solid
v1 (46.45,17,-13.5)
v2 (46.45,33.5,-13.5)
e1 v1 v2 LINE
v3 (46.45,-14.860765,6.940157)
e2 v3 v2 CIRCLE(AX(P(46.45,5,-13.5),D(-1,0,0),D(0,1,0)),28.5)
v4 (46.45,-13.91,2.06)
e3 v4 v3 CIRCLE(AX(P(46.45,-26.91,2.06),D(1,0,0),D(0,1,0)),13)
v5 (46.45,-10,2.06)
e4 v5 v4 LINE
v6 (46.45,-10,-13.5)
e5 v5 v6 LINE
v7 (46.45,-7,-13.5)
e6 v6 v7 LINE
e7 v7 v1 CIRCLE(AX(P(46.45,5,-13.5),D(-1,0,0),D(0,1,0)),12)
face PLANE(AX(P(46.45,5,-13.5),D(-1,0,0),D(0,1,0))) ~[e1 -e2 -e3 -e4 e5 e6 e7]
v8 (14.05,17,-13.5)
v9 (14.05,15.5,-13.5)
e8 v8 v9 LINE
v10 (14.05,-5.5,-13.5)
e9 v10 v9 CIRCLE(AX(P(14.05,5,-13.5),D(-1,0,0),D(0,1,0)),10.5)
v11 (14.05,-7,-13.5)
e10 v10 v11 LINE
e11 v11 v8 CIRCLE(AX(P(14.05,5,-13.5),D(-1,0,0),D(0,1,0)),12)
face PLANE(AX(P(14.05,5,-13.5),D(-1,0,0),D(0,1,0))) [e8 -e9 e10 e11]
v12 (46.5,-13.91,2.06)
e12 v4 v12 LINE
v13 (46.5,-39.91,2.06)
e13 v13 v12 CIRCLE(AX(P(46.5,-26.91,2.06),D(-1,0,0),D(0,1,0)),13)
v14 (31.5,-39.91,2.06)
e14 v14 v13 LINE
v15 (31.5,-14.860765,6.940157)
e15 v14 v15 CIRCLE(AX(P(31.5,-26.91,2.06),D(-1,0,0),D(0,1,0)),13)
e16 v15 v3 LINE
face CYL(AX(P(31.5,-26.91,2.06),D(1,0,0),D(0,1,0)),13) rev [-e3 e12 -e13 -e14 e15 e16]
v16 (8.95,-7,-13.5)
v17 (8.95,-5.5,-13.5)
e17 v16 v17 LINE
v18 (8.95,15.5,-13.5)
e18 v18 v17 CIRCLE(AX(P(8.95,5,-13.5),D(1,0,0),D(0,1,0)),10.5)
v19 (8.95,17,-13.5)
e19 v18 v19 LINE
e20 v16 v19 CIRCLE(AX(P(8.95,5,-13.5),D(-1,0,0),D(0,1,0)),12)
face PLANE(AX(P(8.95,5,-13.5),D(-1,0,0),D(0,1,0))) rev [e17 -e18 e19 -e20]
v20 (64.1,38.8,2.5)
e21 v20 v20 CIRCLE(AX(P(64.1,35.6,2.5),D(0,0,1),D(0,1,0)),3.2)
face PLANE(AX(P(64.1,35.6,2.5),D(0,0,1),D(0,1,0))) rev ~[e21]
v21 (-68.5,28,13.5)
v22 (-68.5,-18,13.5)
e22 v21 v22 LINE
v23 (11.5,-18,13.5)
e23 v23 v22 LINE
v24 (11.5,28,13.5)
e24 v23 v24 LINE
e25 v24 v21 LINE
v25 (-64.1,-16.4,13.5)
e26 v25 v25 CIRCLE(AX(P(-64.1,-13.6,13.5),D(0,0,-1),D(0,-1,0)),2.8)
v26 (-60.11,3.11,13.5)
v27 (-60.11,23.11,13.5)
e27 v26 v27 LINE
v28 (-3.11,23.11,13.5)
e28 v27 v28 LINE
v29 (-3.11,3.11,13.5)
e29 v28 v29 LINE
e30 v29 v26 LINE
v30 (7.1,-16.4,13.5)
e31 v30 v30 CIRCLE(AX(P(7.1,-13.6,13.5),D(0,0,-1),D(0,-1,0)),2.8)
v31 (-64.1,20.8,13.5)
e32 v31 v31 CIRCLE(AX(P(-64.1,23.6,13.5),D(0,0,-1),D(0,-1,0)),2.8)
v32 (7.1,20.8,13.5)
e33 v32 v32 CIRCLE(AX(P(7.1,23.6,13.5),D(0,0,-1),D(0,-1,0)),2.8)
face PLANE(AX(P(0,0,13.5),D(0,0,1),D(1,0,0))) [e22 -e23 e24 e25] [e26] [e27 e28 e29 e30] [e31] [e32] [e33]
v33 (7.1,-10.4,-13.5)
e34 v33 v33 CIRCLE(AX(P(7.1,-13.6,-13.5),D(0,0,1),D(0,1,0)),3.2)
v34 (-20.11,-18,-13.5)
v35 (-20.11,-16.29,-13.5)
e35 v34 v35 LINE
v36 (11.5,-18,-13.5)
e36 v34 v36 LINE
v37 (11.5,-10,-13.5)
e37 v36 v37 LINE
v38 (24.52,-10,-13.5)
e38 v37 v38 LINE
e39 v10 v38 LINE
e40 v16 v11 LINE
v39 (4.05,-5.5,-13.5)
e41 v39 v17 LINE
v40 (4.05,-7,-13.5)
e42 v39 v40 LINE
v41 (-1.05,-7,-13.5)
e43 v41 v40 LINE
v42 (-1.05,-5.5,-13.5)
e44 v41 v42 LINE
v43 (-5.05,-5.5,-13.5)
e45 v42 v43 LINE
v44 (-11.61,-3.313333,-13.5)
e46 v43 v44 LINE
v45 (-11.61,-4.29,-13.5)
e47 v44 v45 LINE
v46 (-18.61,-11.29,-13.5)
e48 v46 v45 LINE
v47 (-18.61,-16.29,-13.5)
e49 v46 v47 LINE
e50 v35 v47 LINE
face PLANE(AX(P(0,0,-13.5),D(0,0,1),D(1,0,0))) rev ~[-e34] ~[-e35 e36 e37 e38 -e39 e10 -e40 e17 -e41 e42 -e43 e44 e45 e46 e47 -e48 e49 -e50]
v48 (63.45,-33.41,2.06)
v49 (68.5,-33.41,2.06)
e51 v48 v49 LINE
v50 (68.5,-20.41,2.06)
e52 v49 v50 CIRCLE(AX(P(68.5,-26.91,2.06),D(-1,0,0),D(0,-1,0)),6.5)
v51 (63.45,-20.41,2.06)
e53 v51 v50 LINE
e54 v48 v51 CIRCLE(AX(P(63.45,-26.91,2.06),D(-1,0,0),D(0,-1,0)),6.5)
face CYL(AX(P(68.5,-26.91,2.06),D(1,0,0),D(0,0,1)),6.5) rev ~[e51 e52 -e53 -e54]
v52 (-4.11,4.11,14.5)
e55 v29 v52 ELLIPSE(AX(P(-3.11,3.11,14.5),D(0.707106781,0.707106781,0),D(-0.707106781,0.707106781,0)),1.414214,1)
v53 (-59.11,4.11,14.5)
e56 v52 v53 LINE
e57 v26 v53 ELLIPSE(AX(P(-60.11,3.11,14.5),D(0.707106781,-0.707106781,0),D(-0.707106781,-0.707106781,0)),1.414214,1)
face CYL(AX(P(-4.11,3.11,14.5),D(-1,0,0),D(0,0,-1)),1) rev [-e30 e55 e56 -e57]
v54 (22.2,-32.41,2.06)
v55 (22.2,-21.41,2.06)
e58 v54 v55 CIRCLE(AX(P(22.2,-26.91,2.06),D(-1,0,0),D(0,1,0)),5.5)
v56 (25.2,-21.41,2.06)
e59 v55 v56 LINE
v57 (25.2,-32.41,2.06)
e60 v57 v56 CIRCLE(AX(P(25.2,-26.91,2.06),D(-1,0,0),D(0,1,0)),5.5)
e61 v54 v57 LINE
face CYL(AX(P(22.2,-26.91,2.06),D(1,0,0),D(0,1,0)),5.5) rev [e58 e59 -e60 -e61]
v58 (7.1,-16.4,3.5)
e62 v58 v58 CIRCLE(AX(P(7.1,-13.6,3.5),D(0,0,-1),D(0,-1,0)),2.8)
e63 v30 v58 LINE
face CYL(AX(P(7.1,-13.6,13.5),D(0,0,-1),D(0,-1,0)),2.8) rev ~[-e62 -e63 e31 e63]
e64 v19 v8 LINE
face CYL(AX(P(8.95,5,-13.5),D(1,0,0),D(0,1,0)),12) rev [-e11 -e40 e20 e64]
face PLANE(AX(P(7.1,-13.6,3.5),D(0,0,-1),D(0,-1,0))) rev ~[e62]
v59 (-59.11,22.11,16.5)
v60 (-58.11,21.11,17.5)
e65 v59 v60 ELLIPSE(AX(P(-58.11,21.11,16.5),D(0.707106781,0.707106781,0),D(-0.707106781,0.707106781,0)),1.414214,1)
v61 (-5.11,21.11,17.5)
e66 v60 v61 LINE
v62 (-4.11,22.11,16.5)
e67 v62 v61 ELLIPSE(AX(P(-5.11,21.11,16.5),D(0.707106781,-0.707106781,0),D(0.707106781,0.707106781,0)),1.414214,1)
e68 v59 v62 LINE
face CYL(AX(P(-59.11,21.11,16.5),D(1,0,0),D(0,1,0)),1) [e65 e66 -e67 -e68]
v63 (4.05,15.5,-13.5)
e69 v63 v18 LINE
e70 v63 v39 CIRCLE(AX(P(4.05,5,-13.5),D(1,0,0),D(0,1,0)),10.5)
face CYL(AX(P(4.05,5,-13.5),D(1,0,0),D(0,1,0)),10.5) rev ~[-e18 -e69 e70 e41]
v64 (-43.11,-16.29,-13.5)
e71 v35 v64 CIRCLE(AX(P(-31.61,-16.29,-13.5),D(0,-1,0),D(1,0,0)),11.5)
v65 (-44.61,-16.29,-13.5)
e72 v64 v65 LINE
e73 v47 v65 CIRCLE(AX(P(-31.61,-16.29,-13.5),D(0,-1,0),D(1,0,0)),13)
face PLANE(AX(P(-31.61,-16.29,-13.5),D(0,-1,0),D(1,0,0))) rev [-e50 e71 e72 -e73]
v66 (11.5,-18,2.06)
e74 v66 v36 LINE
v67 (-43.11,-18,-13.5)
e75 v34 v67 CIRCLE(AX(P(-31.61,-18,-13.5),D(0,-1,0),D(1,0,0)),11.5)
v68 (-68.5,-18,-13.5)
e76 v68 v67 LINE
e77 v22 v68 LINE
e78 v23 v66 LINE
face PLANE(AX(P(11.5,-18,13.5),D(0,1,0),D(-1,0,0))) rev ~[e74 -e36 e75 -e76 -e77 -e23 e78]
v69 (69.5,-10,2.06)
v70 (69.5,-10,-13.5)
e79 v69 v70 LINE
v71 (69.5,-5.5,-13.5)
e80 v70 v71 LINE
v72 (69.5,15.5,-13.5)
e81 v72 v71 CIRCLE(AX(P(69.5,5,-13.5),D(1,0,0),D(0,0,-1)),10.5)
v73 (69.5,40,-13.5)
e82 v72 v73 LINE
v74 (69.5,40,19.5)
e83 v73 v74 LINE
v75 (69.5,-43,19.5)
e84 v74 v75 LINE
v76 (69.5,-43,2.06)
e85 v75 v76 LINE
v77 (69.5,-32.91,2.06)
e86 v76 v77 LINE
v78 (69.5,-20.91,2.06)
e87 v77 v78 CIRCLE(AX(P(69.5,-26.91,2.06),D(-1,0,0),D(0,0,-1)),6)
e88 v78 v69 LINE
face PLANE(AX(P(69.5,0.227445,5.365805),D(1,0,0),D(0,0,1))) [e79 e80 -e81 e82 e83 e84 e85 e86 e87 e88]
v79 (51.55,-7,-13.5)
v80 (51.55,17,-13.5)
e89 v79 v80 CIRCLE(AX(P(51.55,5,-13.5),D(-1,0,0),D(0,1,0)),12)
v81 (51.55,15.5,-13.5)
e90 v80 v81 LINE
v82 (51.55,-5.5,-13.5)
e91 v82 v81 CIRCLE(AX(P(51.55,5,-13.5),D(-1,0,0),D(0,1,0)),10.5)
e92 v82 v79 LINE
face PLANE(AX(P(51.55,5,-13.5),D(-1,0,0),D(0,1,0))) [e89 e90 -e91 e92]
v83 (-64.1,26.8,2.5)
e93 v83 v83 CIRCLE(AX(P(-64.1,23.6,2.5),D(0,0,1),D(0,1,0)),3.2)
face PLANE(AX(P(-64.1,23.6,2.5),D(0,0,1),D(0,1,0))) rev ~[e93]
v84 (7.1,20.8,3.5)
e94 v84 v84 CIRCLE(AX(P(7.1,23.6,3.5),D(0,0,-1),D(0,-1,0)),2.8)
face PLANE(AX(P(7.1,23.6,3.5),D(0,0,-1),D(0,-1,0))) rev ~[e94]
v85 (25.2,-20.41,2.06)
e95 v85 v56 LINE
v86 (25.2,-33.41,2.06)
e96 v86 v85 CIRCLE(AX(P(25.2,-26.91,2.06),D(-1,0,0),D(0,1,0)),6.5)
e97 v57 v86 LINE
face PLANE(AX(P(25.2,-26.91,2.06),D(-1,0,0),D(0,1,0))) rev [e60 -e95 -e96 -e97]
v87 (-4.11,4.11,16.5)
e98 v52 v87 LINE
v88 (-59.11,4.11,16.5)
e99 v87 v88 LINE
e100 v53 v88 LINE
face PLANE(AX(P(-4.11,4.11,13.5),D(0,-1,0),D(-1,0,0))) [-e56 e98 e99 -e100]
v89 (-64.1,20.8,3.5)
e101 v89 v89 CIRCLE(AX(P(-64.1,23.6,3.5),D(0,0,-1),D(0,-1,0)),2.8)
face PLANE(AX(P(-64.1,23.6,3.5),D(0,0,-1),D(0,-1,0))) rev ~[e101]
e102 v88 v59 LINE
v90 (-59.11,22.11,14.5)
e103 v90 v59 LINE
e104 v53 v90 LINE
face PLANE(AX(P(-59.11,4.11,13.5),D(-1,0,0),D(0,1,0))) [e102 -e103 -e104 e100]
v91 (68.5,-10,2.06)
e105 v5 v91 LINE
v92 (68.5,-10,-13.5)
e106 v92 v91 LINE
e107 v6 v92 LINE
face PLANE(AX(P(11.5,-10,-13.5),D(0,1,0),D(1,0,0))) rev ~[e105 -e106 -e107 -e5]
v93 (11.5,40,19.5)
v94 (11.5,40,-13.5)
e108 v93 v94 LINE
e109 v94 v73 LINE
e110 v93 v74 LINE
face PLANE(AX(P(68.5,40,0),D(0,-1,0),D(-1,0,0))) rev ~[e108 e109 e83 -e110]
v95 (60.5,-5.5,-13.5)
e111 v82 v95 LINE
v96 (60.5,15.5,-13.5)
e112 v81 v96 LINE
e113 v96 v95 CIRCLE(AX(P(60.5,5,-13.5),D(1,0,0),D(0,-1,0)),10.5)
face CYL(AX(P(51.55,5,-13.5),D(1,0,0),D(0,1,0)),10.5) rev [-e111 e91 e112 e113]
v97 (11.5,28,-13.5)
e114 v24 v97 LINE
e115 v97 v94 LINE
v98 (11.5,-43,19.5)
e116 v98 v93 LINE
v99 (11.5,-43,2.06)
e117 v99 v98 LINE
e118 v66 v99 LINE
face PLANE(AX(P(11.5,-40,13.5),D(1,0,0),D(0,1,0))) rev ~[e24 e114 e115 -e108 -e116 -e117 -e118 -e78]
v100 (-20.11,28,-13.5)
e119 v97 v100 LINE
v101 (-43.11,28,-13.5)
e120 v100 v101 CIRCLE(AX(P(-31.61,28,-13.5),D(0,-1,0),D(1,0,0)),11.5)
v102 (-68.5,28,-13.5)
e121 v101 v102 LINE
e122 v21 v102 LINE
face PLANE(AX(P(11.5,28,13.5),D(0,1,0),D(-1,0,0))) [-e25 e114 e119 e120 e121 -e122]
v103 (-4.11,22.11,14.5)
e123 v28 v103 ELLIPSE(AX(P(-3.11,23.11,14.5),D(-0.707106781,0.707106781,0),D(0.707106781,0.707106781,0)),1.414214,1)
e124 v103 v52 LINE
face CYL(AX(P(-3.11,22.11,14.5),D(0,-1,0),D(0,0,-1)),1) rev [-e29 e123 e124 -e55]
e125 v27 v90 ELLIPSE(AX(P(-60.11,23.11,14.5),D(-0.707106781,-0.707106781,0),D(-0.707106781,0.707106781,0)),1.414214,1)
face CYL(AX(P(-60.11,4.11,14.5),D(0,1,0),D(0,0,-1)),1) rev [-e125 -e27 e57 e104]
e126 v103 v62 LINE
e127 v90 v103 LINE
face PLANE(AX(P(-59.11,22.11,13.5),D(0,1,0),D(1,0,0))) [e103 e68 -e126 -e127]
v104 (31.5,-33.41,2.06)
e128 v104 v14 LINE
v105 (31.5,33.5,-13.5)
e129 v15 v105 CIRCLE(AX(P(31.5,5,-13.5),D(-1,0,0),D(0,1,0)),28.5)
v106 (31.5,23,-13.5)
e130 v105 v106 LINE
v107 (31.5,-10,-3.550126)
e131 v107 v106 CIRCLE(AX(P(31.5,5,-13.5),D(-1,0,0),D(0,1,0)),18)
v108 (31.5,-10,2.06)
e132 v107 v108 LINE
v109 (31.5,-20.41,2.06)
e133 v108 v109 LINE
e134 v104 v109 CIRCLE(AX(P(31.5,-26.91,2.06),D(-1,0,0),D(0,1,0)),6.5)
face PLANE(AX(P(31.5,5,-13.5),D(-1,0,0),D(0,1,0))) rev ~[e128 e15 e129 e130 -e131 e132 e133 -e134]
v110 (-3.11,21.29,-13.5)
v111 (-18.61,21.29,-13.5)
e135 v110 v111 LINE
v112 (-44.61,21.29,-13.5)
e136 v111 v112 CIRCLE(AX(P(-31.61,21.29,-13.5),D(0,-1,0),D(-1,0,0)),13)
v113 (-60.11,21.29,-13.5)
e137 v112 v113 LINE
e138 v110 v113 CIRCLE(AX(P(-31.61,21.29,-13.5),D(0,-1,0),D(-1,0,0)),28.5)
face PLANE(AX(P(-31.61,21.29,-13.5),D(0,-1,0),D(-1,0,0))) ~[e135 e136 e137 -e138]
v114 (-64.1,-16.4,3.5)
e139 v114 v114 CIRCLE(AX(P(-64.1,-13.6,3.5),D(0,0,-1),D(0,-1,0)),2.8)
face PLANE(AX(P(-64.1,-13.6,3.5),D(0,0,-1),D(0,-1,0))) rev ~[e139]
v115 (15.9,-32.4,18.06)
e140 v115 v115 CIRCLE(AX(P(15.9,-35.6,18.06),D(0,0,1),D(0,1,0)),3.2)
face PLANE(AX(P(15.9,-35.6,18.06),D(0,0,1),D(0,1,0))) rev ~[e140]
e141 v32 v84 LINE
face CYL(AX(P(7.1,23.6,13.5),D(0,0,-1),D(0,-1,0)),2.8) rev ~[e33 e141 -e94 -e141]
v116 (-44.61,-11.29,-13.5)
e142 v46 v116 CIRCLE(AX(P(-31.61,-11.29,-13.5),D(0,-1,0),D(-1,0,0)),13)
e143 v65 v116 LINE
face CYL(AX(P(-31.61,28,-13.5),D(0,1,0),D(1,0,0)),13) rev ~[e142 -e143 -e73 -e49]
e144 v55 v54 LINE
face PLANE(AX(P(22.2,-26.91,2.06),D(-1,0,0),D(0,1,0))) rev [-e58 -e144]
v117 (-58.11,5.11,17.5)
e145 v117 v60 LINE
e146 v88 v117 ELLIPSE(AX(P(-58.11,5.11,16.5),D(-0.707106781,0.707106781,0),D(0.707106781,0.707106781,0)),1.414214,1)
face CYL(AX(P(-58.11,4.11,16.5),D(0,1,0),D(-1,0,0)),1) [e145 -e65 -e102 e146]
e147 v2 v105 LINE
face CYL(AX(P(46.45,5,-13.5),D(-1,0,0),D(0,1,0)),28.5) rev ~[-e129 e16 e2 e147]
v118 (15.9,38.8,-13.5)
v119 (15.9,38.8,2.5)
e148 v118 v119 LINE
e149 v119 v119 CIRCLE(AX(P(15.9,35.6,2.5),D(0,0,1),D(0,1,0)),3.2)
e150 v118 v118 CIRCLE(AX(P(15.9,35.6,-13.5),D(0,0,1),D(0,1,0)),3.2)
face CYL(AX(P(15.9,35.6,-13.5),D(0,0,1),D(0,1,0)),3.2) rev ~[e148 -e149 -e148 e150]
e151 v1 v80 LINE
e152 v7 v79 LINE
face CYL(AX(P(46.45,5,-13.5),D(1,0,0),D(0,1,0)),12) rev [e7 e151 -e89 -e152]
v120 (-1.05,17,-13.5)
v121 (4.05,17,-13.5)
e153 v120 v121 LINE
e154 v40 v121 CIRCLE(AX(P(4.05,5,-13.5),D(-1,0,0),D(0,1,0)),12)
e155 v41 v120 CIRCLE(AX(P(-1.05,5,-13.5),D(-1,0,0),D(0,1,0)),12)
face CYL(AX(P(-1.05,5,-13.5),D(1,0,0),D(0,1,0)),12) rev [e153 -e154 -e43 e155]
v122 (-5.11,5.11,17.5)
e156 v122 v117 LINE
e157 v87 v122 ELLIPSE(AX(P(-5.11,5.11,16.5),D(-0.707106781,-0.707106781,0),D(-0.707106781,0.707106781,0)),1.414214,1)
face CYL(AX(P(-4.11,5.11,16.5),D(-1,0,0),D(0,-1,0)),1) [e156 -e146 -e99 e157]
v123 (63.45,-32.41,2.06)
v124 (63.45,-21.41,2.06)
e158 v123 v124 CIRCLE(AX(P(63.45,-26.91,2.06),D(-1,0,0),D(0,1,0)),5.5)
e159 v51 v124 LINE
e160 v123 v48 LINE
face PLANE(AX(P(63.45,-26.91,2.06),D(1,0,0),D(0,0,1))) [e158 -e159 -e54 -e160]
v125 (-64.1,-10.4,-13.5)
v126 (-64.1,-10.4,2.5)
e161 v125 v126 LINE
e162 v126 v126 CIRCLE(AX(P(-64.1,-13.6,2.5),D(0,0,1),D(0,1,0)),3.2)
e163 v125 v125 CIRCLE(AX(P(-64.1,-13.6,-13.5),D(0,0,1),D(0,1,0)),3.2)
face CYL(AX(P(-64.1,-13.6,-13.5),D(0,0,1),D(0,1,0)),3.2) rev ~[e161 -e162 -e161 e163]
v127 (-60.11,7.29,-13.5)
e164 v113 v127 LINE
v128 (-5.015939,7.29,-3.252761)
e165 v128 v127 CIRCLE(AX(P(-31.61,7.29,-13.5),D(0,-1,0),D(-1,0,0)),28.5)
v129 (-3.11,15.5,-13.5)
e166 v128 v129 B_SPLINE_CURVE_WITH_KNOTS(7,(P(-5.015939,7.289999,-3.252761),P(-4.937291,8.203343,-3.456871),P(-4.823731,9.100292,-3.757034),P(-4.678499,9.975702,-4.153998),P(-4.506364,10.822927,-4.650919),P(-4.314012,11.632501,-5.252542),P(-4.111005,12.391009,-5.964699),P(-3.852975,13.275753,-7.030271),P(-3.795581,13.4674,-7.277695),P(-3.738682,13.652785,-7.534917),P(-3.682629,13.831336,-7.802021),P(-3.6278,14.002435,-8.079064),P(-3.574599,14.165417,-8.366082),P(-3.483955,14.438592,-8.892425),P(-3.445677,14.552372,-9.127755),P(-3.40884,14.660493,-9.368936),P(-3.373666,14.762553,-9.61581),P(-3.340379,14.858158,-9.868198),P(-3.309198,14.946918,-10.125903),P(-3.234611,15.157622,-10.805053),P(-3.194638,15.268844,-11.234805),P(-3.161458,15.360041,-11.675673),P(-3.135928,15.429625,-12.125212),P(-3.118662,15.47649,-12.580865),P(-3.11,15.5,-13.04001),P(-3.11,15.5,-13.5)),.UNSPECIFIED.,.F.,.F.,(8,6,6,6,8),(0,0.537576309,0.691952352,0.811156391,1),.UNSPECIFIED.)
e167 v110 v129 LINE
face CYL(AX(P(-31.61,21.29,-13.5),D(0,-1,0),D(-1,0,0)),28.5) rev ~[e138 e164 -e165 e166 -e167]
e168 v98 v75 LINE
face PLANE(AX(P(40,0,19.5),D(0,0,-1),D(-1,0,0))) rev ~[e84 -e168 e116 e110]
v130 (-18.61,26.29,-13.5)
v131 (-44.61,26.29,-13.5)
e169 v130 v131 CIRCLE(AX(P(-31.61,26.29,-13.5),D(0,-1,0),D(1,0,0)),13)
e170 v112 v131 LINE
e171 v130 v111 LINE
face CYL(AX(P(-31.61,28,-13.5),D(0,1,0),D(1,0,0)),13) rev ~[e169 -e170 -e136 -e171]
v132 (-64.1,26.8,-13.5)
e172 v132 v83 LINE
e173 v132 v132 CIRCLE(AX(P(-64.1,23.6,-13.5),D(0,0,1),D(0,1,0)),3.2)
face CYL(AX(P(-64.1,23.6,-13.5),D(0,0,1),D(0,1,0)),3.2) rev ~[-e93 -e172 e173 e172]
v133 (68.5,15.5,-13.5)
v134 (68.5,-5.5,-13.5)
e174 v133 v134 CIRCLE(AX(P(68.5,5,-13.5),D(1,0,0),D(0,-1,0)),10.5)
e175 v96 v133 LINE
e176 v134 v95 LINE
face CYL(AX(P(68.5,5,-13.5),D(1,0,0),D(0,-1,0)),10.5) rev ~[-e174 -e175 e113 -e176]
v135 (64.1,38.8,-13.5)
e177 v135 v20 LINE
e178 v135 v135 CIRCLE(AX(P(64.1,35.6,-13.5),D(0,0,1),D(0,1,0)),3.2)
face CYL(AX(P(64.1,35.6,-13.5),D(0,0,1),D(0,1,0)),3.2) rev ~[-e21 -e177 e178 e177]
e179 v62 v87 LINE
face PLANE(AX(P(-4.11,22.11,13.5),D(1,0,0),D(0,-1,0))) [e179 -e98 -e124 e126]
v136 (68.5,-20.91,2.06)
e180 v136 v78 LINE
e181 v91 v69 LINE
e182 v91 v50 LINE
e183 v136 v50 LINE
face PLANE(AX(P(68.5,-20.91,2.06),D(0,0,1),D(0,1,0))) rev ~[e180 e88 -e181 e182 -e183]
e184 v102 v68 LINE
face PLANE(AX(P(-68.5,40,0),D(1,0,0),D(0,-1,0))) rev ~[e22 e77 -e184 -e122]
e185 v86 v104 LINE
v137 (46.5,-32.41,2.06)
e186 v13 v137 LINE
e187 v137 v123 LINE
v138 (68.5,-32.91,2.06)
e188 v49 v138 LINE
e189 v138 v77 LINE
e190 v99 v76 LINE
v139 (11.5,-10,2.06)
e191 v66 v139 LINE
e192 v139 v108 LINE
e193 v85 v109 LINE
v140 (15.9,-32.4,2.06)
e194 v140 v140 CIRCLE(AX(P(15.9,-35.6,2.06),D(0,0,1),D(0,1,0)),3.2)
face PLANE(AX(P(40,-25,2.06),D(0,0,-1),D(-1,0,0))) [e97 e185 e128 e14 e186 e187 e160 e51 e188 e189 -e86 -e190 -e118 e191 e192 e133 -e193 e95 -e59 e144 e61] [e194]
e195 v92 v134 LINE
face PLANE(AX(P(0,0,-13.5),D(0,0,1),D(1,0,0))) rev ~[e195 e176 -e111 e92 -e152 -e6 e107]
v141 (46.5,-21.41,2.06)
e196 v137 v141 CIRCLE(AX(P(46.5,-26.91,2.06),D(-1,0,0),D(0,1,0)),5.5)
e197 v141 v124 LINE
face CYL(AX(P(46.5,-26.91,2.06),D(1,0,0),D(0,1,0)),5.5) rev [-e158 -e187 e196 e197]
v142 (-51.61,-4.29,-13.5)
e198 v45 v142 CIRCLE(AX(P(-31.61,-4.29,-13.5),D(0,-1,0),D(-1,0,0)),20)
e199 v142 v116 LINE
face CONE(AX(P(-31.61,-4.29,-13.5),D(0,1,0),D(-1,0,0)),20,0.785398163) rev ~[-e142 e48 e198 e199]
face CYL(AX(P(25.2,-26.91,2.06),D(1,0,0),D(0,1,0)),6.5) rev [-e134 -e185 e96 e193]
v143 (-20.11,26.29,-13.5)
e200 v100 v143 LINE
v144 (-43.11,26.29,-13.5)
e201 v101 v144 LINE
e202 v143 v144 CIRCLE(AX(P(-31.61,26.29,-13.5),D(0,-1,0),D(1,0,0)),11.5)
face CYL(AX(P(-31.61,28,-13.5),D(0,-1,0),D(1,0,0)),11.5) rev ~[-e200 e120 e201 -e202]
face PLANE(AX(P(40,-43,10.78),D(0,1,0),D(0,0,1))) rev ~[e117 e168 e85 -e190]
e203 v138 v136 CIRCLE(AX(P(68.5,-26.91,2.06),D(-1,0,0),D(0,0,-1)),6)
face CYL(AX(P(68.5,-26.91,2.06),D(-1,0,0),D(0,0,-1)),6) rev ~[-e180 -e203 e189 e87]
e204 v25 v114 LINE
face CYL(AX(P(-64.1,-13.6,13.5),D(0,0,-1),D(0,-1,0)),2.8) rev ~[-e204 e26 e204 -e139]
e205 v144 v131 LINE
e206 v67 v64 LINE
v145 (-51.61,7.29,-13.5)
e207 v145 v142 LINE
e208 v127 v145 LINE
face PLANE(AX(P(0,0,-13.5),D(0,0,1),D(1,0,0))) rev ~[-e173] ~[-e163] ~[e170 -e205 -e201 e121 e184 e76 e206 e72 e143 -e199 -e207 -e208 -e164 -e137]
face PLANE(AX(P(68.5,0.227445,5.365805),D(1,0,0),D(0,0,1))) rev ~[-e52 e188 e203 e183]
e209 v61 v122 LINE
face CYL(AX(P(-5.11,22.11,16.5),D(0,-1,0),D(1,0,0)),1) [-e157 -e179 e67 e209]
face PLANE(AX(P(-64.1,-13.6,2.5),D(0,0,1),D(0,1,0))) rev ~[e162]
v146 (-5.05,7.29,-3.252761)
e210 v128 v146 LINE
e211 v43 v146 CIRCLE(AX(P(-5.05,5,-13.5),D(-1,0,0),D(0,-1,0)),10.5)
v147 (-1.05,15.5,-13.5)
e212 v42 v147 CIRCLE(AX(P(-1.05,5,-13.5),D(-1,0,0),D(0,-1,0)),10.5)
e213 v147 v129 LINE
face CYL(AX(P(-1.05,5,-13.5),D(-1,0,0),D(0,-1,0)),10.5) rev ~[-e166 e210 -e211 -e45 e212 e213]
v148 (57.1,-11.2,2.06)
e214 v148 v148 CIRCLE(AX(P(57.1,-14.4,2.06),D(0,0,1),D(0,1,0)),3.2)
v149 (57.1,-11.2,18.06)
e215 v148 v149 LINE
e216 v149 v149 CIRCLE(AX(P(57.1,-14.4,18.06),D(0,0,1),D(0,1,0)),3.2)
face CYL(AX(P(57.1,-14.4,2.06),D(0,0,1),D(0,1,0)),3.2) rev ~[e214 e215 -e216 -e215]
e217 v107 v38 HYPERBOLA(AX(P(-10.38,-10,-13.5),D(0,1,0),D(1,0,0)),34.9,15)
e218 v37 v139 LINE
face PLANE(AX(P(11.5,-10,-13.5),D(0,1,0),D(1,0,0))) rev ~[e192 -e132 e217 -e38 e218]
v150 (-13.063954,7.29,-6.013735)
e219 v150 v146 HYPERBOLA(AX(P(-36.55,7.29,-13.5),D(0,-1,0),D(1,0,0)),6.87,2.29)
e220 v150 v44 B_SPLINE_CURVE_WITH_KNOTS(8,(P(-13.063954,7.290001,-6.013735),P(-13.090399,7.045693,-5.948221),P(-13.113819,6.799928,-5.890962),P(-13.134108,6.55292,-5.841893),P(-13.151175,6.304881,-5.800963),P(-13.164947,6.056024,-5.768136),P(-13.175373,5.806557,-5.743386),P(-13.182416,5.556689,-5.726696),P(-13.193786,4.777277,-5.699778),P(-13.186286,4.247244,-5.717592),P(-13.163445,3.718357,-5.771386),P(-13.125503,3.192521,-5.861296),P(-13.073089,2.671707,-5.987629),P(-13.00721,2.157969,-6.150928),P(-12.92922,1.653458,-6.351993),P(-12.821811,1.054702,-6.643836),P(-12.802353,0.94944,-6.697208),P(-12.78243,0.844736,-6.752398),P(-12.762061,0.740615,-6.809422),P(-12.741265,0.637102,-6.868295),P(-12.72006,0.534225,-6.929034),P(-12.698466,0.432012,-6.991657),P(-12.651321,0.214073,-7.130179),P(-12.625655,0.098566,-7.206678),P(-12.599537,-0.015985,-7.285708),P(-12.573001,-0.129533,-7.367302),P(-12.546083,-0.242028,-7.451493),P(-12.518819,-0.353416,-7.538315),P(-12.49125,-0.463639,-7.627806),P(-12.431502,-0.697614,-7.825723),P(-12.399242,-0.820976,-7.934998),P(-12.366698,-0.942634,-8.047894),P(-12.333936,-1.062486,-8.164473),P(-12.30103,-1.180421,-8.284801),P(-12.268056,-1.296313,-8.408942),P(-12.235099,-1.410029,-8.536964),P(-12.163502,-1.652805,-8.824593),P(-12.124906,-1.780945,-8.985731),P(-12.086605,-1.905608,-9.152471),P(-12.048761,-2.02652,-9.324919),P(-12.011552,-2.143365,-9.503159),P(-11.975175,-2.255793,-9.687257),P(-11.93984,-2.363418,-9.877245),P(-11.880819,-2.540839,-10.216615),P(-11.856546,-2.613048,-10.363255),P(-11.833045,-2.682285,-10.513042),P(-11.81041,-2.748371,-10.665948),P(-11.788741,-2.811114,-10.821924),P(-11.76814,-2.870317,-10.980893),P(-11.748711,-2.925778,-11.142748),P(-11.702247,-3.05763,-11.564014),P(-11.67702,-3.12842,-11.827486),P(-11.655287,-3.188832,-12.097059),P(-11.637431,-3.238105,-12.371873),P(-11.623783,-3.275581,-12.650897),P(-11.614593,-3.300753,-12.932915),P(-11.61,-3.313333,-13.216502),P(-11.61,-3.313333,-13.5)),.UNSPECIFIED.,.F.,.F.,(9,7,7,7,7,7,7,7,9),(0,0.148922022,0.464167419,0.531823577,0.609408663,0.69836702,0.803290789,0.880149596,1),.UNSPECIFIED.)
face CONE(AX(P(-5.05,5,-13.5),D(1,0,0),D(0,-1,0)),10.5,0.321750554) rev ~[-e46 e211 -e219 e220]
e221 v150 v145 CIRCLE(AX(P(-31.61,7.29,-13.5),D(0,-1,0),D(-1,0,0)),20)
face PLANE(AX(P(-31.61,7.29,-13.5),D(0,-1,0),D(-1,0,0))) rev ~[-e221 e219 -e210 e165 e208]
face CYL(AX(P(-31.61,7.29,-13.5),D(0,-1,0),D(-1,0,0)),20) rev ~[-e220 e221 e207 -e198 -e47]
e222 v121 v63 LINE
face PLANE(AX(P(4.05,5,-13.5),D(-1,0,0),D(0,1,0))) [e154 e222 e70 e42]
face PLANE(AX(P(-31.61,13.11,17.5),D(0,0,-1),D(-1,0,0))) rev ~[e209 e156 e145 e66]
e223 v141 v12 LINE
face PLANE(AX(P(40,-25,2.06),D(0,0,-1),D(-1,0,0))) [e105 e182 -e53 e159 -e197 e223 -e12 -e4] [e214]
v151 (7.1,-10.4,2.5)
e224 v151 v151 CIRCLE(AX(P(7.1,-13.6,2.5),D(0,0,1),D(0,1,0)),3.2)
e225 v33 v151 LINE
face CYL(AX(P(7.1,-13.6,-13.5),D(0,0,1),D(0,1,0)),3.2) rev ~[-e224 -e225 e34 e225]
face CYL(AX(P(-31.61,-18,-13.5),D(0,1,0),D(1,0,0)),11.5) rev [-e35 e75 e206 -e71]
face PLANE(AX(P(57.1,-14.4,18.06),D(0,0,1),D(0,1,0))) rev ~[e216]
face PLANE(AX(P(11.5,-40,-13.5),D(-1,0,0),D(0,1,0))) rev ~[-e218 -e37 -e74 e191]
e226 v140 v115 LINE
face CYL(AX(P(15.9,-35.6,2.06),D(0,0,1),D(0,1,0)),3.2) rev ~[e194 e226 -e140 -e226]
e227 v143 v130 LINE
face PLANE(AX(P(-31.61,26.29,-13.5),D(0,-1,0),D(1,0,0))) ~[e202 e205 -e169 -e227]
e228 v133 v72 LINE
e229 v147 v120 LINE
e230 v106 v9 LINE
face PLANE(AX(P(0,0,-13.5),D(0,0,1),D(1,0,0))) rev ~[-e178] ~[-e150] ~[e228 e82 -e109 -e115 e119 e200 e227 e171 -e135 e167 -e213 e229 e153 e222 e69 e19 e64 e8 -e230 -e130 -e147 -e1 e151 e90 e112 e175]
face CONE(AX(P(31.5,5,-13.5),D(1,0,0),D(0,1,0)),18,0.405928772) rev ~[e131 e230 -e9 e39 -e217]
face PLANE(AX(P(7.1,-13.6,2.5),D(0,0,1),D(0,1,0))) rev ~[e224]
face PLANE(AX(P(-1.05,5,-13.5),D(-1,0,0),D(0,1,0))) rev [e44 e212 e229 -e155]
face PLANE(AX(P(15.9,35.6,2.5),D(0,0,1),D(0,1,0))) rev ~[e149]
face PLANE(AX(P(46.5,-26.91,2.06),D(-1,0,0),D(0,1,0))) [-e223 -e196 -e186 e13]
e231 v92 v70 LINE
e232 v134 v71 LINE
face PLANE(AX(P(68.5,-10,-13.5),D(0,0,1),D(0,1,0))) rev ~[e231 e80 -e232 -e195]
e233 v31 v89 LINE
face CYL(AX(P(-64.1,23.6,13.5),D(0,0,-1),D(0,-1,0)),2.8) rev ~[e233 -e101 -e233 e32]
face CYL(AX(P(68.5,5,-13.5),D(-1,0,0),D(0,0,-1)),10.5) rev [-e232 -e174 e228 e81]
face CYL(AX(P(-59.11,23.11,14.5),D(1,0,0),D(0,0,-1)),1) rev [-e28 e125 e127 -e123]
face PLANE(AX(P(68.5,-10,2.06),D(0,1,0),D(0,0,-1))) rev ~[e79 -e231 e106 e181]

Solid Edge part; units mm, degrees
sketch "Sketch1" plane through (0, 0, 0) normal (0, 0, 1) x (1, 0, 0)
  line L0 (-68.5, -40) -> (68.5, -40)
  line L1 (68.5, -40) -> (68.5, 40)
  line L2 (68.5, 40) -> (-68.5, 40)
  line L3 (-68.5, 40) -> (-68.5, -40)
  dimension "D1" = 137
  dimension "D2" = 80
extrude "Protrusion1" add sketch "Sketch1" along normal mid plane 27
sketch "Sketch2" plane through (0, 0, 13.5) normal (0, 0, 1) x (1, 0, 0)
  line L0 (-68.5, 40) -> (11.5, 40)
  line L1 (11.5, 40) -> (11.5, 28)
  line L2 (11.5, 28) -> (-68.5, 28)
  line L3 (-68.5, 28) -> (-68.5, 40)
  dimension "D1" = 80
  dimension "D2" = 12
extrude "Cutout1" cut sketch "Sketch2" against normal up to next
sketch "Sketch3" plane through (0, 0, 13.5) normal (0, 0, 1) x (1, 0, 0)
  line L0 (-68.5, -40) -> (11.5, -40)
  line L1 (11.5, -40) -> (11.5, -18)
  line L2 (11.5, -18) -> (-68.5, -18)
  line L3 (-68.5, -18) -> (-68.5, -40)
  dimension "D1" = 80
  dimension "D2" = 22
extrude "Cutout2" cut sketch "Sketch3" against normal up to next
sketch "Sketch4" plane through (0, 0, -13.5) normal (0, 0, -1) x (1, 0, 0)
  line L0 (68.5, 40) -> (11.5, 40)
  line L1 (11.5, 40) -> (11.5, 10)
  line L2 (11.5, 10) -> (68.5, 10)
  line L3 (68.5, 10) -> (68.5, 40)
  dimension "D1" = 30
  dimension "D2" = 57
extrude "Extrusionsausschnitt_3" cut sketch "Sketch4" against normal blind 15.56
sketch "Sketch5" plane through (0, 0, 13.5) normal (0, 0, 1) x (1, 0, 0)
  line L0 (11.5, 40) -> (68.5, 40)
  line L1 (68.5, 40) -> (68.5, -40)
  line L2 (68.5, -40) -> (11.5, -40)
  line L3 (11.5, -40) -> (11.5, 40)
extrude "Extrusionsausprägung_4" add sketch "Sketch5" along normal blind 6
sketch "Sketch6" plane through (40, -40, 10.78) normal (0, -1, 0) x (1, 0, 0)
  line L0 (-28.5, 8.72) -> (28.5, 8.72)
  line L1 (28.5, 8.72) -> (28.5, -8.72)
  line L2 (28.5, -8.72) -> (-28.5, -8.72)
  line L3 (-28.5, -8.72) -> (-28.5, 8.72)
extrude "Extrusionsausprägung_13" add sketch "Sketch6" along normal blind 3
hole "Bohrung_6" at (-64.1, -13.6, -13.5) direction (0, 0, 1) diameter 6.4 depth 16
hole "Hole1" at (7.1, -13.6, -13.5) direction (0, 0, 1) diameter 6.4 depth 16
hole "Hole2" at (-64.1, 23.6, -13.5) direction (0, 0, 1) diameter 6.4 depth 16
hole "Hole3" at (15.9, 35.6, -13.5) direction (0, 0, 1) diameter 6.4 depth 16
hole "Hole4" at (64.1, 35.6, -13.5) direction (0, 0, 1) diameter 6.4 depth 16
hole "Bohrung_11" at (15.9, -35.6, 2.06) direction (0, 0, 1) diameter 6.4 depth 16
hole "Hole5" at (57.1, -14.4, 2.06) direction (0, 0, 1) diameter 6.4 depth 16
sketch "Sketch7" plane through (68.5, 0, 3) normal (1, 0, 0) x (0, 0, 1)
  circle A0 centre (-0.94, 26.91) radius 6.5
  dimension "D1" = 13
  dimension "D2" = 13.09
extrude "Extrusionsausschnitt_7" cut sketch "Sketch7" against normal blind 5.05
sketch "Sketch8" plane through (68.5, 0, 3) normal (1, 0, 0) x (0, -1, 0)
  circle A0 centre (-5, 16.5) radius 10.5
  dimension "D1" = 21
  dimension "D2" = 35
extrude "Extrusionsausschnitt_8" cut sketch "Sketch8" against normal blind 8
sketch "Sketch9" plane through (-27.5, 28, 0) normal (0, 1, 0) x (1, 0, 0)
  circle A0 centre (-4.11, 13.5) radius 13
  dimension "D1" = 36.89
extrude "Extrusionsausschnitt_9" cut sketch "Sketch9" against normal blind 95
hole "Bohrung_19" at (-64.1, 23.6, 13.5) direction (0, 0, -1) diameter 5.6 depth 10
hole "Hole6" at (-64.1, -13.6, 13.5) direction (0, 0, -1) diameter 5.6 depth 10
hole "Hole7" at (7.1, -13.6, 13.5) direction (0, 0, -1) diameter 5.6 depth 10
hole "Hole8" at (7.1, 23.6, 13.5) direction (0, 0, -1) diameter 5.6 depth 10
sketch "Sketch10" plane through (-27.5, 5, 13.5) normal (0, 0, 1) x (1, 0, 0)
  line L0 (-31.61, 17.11) -> (23.39, 17.11)
  line L1 (23.39, 17.11) -> (23.39, -0.89)
  line L2 (23.39, -0.89) -> (-31.61, -0.89)
  line L3 (-31.61, -0.89) -> (-31.61, 17.11)
  dimension "D1" = 9.39
  dimension "D2" = 5.89
  dimension "D3" = 55
  dimension "D4" = 18
extrude "Extrusionsausprägung_11" add sketch "Sketch10" along normal blind 4
fillet "Verrundung_12" radius 1 8 edges at (-31.61, 4.11, 13.5) (-59.11, 13.11, 13.5) (-59.11, 13.11, 17.5) (-31.61, 4.11, 17.5) (-31.61, 22.11, 13.5) (-31.61, 22.11, 17.5) (-4.11, 13.11, 13.5) (-4.11, 13.11, 17.5)
sketch "Sketch11" plane through (24.945, 11, -13.5) normal (0, 0, -1) x (1, 0, 0)
  line L0 (-43.555, 29) -> (-45.055, 29)
  line L1 (-45.055, 29) -> (-45.055, 27.29)
  line L2 (-45.055, 27.29) -> (-43.555, 27.29)
  line L3 (-43.555, 27.29) -> (-43.555, 29)
  line L4 (-43.555, -17) -> (-45.055, -17)
  line L5 (-45.055, -17) -> (-45.055, -15.29)
  line L6 (-45.055, -15.29) -> (-43.555, -15.29)
  line L7 (-43.555, -15.29) -> (-43.555, -17)
  dimension "D1" = 42.58
revolve "Rotationsausprägung_1" add sketch "Sketch11" angle 180 about axis through (-31.61, -20.9276, -13.5) along (0, -1, 0)
sketch "Sketch12" plane through (-54.805, 5, -13.5) normal (0, 0, -1) x (0, -1, 0)
  line L0 (-16.29, -10.195) -> (-16.29, 5.305)
  line L1 (-16.29, 5.305) -> (-2.29, 5.305)
  line L2 (-2.29, 5.305) -> (-2.29, -3.195)
  line L3 (-2.29, -3.195) -> (9.29, -3.195)
  line L4 (9.29, -3.195) -> (16.29, -10.195)
  line L5 (16.29, -10.195) -> (-16.29, -10.195)
  dimension "D1" = 5
  dimension "D2" = 5
  dimension "D3" = 14
revolve "RevolvedCutout1" cut sketch "Sketch12" angle 360 about axis through (-31.61, 30.2296, -13.5) along (0, -1, 0)
sketch "Sketch13" plane through (40, -26.5, 2.06) normal (0, 0, -1) x (-1, 0, 0)
  line L0 (17.8, -0.41) -> (17.8, 5.09)
  line L1 (17.8, 5.09) -> (14.8, 5.09)
  line L2 (14.8, 5.09) -> (14.8, 6.09)
  line L3 (14.8, 6.09) -> (8.5, 6.09)
  line L4 (8.5, 6.09) -> (8.5, -0.41)
  line L5 (8.5, -0.41) -> (17.8, -0.41)
  dimension "D1" = 6.3
  dimension "D2" = 3
  dimension "D3" = 43.3
revolve "RevolvedCutout2" cut sketch "Sketch13" angle 360 about axis through (68.5, -26.91, 2.06) along (-1, 0, 0)
sketch "Sketch14" plane through (40, -26.5, 2.06) normal (0, 0, -1) x (-1, 0, 0)
  line L0 (8.5, -0.41) -> (8.5, 12.59)
  line L1 (8.5, 12.59) -> (-6.5, 12.59)
  line L2 (-6.5, 12.59) -> (-6.5, 5.09)
  line L3 (-6.5, 5.09) -> (-23.45, 5.09)
  line L4 (-23.45, 5.09) -> (-23.45, -0.41)
  line L5 (-23.45, -0.41) -> (8.5, -0.41)
  dimension "D1" = 15
revolve "RevolvedCutout3" cut sketch "Sketch14" angle 360 about axis through (68.5, -26.91, 2.06) along (-1, 0, 0)
sketch "Sketch15" plane through (24.195, 11, -13.5) normal (0, 0, -1) x (-1, 0, 0)
  line L0 (-27.355, -6) -> (-22.255, -6)
  line L1 (-22.255, -6) -> (-22.255, 6)
  line L2 (-22.255, 6) -> (-27.355, 6)
  line L3 (-27.355, 6) -> (-27.355, -6)
  dimension "D1" = 5.1
  dimension "D2" = 19.5
revolve "RevolvedCutout4" cut sketch "Sketch15" angle 360 about axis through (68.5, 5, -13.5) along (-1, 0, 0)
sketch "Sketch16" plane through (24.195, 11, -13.5) normal (0, 0, -1) x (-1, 0, 0)
  line L0 (-22.255, -6) -> (-22.255, 22.5)
  line L1 (-22.255, 22.5) -> (-7.305, 22.5)
  line L2 (-7.305, 22.5) -> (-7.305, -6)
  line L3 (-7.305, -6) -> (-22.255, -6)
  dimension "D1" = 14.95
revolve "RevolvedCutout5" cut sketch "Sketch16" angle 360 about axis through (68.5, 5, -13.5) along (-1, 0, 0)
sketch "Sketch17" plane through (24.195, 11, -13.5) normal (0, 0, -1) x (-1, 0, 0)
  line L0 (10.145, -6) -> (15.245, -6)
  line L1 (15.245, -6) -> (15.245, 6)
  line L2 (15.245, 6) -> (10.145, 6)
  line L3 (10.145, 6) -> (10.145, -6)
  line L4 (20.145, -6) -> (25.245, -6)
  line L5 (25.245, -6) -> (25.245, 6)
  line L6 (25.245, 6) -> (20.145, 6)
  line L7 (20.145, 6) -> (20.145, -6)
  dimension "D1" = 5.1
  dimension "D2" = 57
  dimension "D3" = 10
  dimension "D4" = 5.1
revolve "RevolvedCutout6" cut sketch "Sketch17" angle 360 about axis through (68.5, 5, -13.5) along (-1, 0, 0)
sketch "Sketch18" plane through (24.195, 11, -13.5) normal (0, 0, -1) x (-1, 0, 0)
  line L0 (-27.355, -6) -> (-27.355, 4.5)
  line L1 (-27.355, 4.5) -> (-36.305, 4.5)
  line L2 (-36.305, 4.5) -> (-36.305, -6)
  line L3 (-36.305, -6) -> (-27.355, -6)
revolve "RevolvedCutout7" cut sketch "Sketch18" angle 360 about axis through (68.5, 5, -13.5) along (-1, 0, 0)
sketch "Sketch19" plane through (24.195, 11, -13.5) normal (0, 0, -1) x (-1, 0, 0)
  line L0 (-7.305, -6) -> (-7.305, 12)
  line L1 (-7.305, 12) -> (10.145, 4.5)
  line L2 (10.145, 4.5) -> (10.145, -6)
  line L3 (10.145, -6) -> (-7.305, -6)
revolve "RevolvedCutout8" cut sketch "Sketch19" angle 360 about axis through (68.5, 5, -13.5) along (-1, 0, 0)
sketch "Sketch20" plane through (24.195, 11, -13.5) normal (0, 0, -1) x (-1, 0, 0)
  line L0 (15.245, -6) -> (20.145, -6)
  line L1 (20.145, -6) -> (20.145, 4.5)
  line L2 (20.145, 4.5) -> (15.245, 4.5)
  line L3 (15.245, 4.5) -> (15.245, -6)
revolve "RevolvedCutout9" cut sketch "Sketch20" angle 360 about axis through (-1.05, 5, -13.5) along (1, 0, 0)
sketch "Sketch21" plane through (24.195, 11, -13.5) normal (0, 0, -1) x (-1, 0, 0)
  line L0 (25.245, -6) -> (25.245, -16.5)
  line L1 (25.245, -16.5) -> (29.245, -16.5)
  line L2 (29.245, -16.5) -> (38.245, -13.5)
  line L3 (38.245, -13.5) -> (38.245, -6)
  line L4 (38.245, -6) -> (25.245, -6)
  dimension "D1" = 4
  dimension "D2" = 13
revolve "RevolvedCutout10" cut sketch "Sketch21" angle 360 about axis through (14.05, 5, -13.5) along (-1, 0, 0)
sketch "Sketch22" plane through (68.5, -1.5, 3) normal (1, 0, 0) x (0, 0, -1)
  line L0 (16.5, 17) -> (16.5, 41.5)
  line L1 (16.5, 41.5) -> (-16.5, 41.5)
  line L2 (-16.5, 41.5) -> (-16.5, -41.5)
  line L3 (-16.5, -41.5) -> (0.94, -41.5)
  line L4 (0.94, -41.5) -> (0.94, -31.41)
  line L5 (0.94, -19.41) -> (0.94, -8.5)
  line L6 (0.94, -8.5) -> (16.5, -8.5)
  line L7 (16.5, -8.5) -> (16.5, -4)
  arc A0 (16.5, 17) -> (16.5, -4) centre (16.5, 6.5) ccw
  arc A1 (0.94, -31.41) -> (0.94, -19.41) centre (0.94, -25.41) cw
extrude "Extrusionsausprägung_14" add sketch "Sketch22" along normal blind 1
properties part number "3" material "Polykarbonat"
